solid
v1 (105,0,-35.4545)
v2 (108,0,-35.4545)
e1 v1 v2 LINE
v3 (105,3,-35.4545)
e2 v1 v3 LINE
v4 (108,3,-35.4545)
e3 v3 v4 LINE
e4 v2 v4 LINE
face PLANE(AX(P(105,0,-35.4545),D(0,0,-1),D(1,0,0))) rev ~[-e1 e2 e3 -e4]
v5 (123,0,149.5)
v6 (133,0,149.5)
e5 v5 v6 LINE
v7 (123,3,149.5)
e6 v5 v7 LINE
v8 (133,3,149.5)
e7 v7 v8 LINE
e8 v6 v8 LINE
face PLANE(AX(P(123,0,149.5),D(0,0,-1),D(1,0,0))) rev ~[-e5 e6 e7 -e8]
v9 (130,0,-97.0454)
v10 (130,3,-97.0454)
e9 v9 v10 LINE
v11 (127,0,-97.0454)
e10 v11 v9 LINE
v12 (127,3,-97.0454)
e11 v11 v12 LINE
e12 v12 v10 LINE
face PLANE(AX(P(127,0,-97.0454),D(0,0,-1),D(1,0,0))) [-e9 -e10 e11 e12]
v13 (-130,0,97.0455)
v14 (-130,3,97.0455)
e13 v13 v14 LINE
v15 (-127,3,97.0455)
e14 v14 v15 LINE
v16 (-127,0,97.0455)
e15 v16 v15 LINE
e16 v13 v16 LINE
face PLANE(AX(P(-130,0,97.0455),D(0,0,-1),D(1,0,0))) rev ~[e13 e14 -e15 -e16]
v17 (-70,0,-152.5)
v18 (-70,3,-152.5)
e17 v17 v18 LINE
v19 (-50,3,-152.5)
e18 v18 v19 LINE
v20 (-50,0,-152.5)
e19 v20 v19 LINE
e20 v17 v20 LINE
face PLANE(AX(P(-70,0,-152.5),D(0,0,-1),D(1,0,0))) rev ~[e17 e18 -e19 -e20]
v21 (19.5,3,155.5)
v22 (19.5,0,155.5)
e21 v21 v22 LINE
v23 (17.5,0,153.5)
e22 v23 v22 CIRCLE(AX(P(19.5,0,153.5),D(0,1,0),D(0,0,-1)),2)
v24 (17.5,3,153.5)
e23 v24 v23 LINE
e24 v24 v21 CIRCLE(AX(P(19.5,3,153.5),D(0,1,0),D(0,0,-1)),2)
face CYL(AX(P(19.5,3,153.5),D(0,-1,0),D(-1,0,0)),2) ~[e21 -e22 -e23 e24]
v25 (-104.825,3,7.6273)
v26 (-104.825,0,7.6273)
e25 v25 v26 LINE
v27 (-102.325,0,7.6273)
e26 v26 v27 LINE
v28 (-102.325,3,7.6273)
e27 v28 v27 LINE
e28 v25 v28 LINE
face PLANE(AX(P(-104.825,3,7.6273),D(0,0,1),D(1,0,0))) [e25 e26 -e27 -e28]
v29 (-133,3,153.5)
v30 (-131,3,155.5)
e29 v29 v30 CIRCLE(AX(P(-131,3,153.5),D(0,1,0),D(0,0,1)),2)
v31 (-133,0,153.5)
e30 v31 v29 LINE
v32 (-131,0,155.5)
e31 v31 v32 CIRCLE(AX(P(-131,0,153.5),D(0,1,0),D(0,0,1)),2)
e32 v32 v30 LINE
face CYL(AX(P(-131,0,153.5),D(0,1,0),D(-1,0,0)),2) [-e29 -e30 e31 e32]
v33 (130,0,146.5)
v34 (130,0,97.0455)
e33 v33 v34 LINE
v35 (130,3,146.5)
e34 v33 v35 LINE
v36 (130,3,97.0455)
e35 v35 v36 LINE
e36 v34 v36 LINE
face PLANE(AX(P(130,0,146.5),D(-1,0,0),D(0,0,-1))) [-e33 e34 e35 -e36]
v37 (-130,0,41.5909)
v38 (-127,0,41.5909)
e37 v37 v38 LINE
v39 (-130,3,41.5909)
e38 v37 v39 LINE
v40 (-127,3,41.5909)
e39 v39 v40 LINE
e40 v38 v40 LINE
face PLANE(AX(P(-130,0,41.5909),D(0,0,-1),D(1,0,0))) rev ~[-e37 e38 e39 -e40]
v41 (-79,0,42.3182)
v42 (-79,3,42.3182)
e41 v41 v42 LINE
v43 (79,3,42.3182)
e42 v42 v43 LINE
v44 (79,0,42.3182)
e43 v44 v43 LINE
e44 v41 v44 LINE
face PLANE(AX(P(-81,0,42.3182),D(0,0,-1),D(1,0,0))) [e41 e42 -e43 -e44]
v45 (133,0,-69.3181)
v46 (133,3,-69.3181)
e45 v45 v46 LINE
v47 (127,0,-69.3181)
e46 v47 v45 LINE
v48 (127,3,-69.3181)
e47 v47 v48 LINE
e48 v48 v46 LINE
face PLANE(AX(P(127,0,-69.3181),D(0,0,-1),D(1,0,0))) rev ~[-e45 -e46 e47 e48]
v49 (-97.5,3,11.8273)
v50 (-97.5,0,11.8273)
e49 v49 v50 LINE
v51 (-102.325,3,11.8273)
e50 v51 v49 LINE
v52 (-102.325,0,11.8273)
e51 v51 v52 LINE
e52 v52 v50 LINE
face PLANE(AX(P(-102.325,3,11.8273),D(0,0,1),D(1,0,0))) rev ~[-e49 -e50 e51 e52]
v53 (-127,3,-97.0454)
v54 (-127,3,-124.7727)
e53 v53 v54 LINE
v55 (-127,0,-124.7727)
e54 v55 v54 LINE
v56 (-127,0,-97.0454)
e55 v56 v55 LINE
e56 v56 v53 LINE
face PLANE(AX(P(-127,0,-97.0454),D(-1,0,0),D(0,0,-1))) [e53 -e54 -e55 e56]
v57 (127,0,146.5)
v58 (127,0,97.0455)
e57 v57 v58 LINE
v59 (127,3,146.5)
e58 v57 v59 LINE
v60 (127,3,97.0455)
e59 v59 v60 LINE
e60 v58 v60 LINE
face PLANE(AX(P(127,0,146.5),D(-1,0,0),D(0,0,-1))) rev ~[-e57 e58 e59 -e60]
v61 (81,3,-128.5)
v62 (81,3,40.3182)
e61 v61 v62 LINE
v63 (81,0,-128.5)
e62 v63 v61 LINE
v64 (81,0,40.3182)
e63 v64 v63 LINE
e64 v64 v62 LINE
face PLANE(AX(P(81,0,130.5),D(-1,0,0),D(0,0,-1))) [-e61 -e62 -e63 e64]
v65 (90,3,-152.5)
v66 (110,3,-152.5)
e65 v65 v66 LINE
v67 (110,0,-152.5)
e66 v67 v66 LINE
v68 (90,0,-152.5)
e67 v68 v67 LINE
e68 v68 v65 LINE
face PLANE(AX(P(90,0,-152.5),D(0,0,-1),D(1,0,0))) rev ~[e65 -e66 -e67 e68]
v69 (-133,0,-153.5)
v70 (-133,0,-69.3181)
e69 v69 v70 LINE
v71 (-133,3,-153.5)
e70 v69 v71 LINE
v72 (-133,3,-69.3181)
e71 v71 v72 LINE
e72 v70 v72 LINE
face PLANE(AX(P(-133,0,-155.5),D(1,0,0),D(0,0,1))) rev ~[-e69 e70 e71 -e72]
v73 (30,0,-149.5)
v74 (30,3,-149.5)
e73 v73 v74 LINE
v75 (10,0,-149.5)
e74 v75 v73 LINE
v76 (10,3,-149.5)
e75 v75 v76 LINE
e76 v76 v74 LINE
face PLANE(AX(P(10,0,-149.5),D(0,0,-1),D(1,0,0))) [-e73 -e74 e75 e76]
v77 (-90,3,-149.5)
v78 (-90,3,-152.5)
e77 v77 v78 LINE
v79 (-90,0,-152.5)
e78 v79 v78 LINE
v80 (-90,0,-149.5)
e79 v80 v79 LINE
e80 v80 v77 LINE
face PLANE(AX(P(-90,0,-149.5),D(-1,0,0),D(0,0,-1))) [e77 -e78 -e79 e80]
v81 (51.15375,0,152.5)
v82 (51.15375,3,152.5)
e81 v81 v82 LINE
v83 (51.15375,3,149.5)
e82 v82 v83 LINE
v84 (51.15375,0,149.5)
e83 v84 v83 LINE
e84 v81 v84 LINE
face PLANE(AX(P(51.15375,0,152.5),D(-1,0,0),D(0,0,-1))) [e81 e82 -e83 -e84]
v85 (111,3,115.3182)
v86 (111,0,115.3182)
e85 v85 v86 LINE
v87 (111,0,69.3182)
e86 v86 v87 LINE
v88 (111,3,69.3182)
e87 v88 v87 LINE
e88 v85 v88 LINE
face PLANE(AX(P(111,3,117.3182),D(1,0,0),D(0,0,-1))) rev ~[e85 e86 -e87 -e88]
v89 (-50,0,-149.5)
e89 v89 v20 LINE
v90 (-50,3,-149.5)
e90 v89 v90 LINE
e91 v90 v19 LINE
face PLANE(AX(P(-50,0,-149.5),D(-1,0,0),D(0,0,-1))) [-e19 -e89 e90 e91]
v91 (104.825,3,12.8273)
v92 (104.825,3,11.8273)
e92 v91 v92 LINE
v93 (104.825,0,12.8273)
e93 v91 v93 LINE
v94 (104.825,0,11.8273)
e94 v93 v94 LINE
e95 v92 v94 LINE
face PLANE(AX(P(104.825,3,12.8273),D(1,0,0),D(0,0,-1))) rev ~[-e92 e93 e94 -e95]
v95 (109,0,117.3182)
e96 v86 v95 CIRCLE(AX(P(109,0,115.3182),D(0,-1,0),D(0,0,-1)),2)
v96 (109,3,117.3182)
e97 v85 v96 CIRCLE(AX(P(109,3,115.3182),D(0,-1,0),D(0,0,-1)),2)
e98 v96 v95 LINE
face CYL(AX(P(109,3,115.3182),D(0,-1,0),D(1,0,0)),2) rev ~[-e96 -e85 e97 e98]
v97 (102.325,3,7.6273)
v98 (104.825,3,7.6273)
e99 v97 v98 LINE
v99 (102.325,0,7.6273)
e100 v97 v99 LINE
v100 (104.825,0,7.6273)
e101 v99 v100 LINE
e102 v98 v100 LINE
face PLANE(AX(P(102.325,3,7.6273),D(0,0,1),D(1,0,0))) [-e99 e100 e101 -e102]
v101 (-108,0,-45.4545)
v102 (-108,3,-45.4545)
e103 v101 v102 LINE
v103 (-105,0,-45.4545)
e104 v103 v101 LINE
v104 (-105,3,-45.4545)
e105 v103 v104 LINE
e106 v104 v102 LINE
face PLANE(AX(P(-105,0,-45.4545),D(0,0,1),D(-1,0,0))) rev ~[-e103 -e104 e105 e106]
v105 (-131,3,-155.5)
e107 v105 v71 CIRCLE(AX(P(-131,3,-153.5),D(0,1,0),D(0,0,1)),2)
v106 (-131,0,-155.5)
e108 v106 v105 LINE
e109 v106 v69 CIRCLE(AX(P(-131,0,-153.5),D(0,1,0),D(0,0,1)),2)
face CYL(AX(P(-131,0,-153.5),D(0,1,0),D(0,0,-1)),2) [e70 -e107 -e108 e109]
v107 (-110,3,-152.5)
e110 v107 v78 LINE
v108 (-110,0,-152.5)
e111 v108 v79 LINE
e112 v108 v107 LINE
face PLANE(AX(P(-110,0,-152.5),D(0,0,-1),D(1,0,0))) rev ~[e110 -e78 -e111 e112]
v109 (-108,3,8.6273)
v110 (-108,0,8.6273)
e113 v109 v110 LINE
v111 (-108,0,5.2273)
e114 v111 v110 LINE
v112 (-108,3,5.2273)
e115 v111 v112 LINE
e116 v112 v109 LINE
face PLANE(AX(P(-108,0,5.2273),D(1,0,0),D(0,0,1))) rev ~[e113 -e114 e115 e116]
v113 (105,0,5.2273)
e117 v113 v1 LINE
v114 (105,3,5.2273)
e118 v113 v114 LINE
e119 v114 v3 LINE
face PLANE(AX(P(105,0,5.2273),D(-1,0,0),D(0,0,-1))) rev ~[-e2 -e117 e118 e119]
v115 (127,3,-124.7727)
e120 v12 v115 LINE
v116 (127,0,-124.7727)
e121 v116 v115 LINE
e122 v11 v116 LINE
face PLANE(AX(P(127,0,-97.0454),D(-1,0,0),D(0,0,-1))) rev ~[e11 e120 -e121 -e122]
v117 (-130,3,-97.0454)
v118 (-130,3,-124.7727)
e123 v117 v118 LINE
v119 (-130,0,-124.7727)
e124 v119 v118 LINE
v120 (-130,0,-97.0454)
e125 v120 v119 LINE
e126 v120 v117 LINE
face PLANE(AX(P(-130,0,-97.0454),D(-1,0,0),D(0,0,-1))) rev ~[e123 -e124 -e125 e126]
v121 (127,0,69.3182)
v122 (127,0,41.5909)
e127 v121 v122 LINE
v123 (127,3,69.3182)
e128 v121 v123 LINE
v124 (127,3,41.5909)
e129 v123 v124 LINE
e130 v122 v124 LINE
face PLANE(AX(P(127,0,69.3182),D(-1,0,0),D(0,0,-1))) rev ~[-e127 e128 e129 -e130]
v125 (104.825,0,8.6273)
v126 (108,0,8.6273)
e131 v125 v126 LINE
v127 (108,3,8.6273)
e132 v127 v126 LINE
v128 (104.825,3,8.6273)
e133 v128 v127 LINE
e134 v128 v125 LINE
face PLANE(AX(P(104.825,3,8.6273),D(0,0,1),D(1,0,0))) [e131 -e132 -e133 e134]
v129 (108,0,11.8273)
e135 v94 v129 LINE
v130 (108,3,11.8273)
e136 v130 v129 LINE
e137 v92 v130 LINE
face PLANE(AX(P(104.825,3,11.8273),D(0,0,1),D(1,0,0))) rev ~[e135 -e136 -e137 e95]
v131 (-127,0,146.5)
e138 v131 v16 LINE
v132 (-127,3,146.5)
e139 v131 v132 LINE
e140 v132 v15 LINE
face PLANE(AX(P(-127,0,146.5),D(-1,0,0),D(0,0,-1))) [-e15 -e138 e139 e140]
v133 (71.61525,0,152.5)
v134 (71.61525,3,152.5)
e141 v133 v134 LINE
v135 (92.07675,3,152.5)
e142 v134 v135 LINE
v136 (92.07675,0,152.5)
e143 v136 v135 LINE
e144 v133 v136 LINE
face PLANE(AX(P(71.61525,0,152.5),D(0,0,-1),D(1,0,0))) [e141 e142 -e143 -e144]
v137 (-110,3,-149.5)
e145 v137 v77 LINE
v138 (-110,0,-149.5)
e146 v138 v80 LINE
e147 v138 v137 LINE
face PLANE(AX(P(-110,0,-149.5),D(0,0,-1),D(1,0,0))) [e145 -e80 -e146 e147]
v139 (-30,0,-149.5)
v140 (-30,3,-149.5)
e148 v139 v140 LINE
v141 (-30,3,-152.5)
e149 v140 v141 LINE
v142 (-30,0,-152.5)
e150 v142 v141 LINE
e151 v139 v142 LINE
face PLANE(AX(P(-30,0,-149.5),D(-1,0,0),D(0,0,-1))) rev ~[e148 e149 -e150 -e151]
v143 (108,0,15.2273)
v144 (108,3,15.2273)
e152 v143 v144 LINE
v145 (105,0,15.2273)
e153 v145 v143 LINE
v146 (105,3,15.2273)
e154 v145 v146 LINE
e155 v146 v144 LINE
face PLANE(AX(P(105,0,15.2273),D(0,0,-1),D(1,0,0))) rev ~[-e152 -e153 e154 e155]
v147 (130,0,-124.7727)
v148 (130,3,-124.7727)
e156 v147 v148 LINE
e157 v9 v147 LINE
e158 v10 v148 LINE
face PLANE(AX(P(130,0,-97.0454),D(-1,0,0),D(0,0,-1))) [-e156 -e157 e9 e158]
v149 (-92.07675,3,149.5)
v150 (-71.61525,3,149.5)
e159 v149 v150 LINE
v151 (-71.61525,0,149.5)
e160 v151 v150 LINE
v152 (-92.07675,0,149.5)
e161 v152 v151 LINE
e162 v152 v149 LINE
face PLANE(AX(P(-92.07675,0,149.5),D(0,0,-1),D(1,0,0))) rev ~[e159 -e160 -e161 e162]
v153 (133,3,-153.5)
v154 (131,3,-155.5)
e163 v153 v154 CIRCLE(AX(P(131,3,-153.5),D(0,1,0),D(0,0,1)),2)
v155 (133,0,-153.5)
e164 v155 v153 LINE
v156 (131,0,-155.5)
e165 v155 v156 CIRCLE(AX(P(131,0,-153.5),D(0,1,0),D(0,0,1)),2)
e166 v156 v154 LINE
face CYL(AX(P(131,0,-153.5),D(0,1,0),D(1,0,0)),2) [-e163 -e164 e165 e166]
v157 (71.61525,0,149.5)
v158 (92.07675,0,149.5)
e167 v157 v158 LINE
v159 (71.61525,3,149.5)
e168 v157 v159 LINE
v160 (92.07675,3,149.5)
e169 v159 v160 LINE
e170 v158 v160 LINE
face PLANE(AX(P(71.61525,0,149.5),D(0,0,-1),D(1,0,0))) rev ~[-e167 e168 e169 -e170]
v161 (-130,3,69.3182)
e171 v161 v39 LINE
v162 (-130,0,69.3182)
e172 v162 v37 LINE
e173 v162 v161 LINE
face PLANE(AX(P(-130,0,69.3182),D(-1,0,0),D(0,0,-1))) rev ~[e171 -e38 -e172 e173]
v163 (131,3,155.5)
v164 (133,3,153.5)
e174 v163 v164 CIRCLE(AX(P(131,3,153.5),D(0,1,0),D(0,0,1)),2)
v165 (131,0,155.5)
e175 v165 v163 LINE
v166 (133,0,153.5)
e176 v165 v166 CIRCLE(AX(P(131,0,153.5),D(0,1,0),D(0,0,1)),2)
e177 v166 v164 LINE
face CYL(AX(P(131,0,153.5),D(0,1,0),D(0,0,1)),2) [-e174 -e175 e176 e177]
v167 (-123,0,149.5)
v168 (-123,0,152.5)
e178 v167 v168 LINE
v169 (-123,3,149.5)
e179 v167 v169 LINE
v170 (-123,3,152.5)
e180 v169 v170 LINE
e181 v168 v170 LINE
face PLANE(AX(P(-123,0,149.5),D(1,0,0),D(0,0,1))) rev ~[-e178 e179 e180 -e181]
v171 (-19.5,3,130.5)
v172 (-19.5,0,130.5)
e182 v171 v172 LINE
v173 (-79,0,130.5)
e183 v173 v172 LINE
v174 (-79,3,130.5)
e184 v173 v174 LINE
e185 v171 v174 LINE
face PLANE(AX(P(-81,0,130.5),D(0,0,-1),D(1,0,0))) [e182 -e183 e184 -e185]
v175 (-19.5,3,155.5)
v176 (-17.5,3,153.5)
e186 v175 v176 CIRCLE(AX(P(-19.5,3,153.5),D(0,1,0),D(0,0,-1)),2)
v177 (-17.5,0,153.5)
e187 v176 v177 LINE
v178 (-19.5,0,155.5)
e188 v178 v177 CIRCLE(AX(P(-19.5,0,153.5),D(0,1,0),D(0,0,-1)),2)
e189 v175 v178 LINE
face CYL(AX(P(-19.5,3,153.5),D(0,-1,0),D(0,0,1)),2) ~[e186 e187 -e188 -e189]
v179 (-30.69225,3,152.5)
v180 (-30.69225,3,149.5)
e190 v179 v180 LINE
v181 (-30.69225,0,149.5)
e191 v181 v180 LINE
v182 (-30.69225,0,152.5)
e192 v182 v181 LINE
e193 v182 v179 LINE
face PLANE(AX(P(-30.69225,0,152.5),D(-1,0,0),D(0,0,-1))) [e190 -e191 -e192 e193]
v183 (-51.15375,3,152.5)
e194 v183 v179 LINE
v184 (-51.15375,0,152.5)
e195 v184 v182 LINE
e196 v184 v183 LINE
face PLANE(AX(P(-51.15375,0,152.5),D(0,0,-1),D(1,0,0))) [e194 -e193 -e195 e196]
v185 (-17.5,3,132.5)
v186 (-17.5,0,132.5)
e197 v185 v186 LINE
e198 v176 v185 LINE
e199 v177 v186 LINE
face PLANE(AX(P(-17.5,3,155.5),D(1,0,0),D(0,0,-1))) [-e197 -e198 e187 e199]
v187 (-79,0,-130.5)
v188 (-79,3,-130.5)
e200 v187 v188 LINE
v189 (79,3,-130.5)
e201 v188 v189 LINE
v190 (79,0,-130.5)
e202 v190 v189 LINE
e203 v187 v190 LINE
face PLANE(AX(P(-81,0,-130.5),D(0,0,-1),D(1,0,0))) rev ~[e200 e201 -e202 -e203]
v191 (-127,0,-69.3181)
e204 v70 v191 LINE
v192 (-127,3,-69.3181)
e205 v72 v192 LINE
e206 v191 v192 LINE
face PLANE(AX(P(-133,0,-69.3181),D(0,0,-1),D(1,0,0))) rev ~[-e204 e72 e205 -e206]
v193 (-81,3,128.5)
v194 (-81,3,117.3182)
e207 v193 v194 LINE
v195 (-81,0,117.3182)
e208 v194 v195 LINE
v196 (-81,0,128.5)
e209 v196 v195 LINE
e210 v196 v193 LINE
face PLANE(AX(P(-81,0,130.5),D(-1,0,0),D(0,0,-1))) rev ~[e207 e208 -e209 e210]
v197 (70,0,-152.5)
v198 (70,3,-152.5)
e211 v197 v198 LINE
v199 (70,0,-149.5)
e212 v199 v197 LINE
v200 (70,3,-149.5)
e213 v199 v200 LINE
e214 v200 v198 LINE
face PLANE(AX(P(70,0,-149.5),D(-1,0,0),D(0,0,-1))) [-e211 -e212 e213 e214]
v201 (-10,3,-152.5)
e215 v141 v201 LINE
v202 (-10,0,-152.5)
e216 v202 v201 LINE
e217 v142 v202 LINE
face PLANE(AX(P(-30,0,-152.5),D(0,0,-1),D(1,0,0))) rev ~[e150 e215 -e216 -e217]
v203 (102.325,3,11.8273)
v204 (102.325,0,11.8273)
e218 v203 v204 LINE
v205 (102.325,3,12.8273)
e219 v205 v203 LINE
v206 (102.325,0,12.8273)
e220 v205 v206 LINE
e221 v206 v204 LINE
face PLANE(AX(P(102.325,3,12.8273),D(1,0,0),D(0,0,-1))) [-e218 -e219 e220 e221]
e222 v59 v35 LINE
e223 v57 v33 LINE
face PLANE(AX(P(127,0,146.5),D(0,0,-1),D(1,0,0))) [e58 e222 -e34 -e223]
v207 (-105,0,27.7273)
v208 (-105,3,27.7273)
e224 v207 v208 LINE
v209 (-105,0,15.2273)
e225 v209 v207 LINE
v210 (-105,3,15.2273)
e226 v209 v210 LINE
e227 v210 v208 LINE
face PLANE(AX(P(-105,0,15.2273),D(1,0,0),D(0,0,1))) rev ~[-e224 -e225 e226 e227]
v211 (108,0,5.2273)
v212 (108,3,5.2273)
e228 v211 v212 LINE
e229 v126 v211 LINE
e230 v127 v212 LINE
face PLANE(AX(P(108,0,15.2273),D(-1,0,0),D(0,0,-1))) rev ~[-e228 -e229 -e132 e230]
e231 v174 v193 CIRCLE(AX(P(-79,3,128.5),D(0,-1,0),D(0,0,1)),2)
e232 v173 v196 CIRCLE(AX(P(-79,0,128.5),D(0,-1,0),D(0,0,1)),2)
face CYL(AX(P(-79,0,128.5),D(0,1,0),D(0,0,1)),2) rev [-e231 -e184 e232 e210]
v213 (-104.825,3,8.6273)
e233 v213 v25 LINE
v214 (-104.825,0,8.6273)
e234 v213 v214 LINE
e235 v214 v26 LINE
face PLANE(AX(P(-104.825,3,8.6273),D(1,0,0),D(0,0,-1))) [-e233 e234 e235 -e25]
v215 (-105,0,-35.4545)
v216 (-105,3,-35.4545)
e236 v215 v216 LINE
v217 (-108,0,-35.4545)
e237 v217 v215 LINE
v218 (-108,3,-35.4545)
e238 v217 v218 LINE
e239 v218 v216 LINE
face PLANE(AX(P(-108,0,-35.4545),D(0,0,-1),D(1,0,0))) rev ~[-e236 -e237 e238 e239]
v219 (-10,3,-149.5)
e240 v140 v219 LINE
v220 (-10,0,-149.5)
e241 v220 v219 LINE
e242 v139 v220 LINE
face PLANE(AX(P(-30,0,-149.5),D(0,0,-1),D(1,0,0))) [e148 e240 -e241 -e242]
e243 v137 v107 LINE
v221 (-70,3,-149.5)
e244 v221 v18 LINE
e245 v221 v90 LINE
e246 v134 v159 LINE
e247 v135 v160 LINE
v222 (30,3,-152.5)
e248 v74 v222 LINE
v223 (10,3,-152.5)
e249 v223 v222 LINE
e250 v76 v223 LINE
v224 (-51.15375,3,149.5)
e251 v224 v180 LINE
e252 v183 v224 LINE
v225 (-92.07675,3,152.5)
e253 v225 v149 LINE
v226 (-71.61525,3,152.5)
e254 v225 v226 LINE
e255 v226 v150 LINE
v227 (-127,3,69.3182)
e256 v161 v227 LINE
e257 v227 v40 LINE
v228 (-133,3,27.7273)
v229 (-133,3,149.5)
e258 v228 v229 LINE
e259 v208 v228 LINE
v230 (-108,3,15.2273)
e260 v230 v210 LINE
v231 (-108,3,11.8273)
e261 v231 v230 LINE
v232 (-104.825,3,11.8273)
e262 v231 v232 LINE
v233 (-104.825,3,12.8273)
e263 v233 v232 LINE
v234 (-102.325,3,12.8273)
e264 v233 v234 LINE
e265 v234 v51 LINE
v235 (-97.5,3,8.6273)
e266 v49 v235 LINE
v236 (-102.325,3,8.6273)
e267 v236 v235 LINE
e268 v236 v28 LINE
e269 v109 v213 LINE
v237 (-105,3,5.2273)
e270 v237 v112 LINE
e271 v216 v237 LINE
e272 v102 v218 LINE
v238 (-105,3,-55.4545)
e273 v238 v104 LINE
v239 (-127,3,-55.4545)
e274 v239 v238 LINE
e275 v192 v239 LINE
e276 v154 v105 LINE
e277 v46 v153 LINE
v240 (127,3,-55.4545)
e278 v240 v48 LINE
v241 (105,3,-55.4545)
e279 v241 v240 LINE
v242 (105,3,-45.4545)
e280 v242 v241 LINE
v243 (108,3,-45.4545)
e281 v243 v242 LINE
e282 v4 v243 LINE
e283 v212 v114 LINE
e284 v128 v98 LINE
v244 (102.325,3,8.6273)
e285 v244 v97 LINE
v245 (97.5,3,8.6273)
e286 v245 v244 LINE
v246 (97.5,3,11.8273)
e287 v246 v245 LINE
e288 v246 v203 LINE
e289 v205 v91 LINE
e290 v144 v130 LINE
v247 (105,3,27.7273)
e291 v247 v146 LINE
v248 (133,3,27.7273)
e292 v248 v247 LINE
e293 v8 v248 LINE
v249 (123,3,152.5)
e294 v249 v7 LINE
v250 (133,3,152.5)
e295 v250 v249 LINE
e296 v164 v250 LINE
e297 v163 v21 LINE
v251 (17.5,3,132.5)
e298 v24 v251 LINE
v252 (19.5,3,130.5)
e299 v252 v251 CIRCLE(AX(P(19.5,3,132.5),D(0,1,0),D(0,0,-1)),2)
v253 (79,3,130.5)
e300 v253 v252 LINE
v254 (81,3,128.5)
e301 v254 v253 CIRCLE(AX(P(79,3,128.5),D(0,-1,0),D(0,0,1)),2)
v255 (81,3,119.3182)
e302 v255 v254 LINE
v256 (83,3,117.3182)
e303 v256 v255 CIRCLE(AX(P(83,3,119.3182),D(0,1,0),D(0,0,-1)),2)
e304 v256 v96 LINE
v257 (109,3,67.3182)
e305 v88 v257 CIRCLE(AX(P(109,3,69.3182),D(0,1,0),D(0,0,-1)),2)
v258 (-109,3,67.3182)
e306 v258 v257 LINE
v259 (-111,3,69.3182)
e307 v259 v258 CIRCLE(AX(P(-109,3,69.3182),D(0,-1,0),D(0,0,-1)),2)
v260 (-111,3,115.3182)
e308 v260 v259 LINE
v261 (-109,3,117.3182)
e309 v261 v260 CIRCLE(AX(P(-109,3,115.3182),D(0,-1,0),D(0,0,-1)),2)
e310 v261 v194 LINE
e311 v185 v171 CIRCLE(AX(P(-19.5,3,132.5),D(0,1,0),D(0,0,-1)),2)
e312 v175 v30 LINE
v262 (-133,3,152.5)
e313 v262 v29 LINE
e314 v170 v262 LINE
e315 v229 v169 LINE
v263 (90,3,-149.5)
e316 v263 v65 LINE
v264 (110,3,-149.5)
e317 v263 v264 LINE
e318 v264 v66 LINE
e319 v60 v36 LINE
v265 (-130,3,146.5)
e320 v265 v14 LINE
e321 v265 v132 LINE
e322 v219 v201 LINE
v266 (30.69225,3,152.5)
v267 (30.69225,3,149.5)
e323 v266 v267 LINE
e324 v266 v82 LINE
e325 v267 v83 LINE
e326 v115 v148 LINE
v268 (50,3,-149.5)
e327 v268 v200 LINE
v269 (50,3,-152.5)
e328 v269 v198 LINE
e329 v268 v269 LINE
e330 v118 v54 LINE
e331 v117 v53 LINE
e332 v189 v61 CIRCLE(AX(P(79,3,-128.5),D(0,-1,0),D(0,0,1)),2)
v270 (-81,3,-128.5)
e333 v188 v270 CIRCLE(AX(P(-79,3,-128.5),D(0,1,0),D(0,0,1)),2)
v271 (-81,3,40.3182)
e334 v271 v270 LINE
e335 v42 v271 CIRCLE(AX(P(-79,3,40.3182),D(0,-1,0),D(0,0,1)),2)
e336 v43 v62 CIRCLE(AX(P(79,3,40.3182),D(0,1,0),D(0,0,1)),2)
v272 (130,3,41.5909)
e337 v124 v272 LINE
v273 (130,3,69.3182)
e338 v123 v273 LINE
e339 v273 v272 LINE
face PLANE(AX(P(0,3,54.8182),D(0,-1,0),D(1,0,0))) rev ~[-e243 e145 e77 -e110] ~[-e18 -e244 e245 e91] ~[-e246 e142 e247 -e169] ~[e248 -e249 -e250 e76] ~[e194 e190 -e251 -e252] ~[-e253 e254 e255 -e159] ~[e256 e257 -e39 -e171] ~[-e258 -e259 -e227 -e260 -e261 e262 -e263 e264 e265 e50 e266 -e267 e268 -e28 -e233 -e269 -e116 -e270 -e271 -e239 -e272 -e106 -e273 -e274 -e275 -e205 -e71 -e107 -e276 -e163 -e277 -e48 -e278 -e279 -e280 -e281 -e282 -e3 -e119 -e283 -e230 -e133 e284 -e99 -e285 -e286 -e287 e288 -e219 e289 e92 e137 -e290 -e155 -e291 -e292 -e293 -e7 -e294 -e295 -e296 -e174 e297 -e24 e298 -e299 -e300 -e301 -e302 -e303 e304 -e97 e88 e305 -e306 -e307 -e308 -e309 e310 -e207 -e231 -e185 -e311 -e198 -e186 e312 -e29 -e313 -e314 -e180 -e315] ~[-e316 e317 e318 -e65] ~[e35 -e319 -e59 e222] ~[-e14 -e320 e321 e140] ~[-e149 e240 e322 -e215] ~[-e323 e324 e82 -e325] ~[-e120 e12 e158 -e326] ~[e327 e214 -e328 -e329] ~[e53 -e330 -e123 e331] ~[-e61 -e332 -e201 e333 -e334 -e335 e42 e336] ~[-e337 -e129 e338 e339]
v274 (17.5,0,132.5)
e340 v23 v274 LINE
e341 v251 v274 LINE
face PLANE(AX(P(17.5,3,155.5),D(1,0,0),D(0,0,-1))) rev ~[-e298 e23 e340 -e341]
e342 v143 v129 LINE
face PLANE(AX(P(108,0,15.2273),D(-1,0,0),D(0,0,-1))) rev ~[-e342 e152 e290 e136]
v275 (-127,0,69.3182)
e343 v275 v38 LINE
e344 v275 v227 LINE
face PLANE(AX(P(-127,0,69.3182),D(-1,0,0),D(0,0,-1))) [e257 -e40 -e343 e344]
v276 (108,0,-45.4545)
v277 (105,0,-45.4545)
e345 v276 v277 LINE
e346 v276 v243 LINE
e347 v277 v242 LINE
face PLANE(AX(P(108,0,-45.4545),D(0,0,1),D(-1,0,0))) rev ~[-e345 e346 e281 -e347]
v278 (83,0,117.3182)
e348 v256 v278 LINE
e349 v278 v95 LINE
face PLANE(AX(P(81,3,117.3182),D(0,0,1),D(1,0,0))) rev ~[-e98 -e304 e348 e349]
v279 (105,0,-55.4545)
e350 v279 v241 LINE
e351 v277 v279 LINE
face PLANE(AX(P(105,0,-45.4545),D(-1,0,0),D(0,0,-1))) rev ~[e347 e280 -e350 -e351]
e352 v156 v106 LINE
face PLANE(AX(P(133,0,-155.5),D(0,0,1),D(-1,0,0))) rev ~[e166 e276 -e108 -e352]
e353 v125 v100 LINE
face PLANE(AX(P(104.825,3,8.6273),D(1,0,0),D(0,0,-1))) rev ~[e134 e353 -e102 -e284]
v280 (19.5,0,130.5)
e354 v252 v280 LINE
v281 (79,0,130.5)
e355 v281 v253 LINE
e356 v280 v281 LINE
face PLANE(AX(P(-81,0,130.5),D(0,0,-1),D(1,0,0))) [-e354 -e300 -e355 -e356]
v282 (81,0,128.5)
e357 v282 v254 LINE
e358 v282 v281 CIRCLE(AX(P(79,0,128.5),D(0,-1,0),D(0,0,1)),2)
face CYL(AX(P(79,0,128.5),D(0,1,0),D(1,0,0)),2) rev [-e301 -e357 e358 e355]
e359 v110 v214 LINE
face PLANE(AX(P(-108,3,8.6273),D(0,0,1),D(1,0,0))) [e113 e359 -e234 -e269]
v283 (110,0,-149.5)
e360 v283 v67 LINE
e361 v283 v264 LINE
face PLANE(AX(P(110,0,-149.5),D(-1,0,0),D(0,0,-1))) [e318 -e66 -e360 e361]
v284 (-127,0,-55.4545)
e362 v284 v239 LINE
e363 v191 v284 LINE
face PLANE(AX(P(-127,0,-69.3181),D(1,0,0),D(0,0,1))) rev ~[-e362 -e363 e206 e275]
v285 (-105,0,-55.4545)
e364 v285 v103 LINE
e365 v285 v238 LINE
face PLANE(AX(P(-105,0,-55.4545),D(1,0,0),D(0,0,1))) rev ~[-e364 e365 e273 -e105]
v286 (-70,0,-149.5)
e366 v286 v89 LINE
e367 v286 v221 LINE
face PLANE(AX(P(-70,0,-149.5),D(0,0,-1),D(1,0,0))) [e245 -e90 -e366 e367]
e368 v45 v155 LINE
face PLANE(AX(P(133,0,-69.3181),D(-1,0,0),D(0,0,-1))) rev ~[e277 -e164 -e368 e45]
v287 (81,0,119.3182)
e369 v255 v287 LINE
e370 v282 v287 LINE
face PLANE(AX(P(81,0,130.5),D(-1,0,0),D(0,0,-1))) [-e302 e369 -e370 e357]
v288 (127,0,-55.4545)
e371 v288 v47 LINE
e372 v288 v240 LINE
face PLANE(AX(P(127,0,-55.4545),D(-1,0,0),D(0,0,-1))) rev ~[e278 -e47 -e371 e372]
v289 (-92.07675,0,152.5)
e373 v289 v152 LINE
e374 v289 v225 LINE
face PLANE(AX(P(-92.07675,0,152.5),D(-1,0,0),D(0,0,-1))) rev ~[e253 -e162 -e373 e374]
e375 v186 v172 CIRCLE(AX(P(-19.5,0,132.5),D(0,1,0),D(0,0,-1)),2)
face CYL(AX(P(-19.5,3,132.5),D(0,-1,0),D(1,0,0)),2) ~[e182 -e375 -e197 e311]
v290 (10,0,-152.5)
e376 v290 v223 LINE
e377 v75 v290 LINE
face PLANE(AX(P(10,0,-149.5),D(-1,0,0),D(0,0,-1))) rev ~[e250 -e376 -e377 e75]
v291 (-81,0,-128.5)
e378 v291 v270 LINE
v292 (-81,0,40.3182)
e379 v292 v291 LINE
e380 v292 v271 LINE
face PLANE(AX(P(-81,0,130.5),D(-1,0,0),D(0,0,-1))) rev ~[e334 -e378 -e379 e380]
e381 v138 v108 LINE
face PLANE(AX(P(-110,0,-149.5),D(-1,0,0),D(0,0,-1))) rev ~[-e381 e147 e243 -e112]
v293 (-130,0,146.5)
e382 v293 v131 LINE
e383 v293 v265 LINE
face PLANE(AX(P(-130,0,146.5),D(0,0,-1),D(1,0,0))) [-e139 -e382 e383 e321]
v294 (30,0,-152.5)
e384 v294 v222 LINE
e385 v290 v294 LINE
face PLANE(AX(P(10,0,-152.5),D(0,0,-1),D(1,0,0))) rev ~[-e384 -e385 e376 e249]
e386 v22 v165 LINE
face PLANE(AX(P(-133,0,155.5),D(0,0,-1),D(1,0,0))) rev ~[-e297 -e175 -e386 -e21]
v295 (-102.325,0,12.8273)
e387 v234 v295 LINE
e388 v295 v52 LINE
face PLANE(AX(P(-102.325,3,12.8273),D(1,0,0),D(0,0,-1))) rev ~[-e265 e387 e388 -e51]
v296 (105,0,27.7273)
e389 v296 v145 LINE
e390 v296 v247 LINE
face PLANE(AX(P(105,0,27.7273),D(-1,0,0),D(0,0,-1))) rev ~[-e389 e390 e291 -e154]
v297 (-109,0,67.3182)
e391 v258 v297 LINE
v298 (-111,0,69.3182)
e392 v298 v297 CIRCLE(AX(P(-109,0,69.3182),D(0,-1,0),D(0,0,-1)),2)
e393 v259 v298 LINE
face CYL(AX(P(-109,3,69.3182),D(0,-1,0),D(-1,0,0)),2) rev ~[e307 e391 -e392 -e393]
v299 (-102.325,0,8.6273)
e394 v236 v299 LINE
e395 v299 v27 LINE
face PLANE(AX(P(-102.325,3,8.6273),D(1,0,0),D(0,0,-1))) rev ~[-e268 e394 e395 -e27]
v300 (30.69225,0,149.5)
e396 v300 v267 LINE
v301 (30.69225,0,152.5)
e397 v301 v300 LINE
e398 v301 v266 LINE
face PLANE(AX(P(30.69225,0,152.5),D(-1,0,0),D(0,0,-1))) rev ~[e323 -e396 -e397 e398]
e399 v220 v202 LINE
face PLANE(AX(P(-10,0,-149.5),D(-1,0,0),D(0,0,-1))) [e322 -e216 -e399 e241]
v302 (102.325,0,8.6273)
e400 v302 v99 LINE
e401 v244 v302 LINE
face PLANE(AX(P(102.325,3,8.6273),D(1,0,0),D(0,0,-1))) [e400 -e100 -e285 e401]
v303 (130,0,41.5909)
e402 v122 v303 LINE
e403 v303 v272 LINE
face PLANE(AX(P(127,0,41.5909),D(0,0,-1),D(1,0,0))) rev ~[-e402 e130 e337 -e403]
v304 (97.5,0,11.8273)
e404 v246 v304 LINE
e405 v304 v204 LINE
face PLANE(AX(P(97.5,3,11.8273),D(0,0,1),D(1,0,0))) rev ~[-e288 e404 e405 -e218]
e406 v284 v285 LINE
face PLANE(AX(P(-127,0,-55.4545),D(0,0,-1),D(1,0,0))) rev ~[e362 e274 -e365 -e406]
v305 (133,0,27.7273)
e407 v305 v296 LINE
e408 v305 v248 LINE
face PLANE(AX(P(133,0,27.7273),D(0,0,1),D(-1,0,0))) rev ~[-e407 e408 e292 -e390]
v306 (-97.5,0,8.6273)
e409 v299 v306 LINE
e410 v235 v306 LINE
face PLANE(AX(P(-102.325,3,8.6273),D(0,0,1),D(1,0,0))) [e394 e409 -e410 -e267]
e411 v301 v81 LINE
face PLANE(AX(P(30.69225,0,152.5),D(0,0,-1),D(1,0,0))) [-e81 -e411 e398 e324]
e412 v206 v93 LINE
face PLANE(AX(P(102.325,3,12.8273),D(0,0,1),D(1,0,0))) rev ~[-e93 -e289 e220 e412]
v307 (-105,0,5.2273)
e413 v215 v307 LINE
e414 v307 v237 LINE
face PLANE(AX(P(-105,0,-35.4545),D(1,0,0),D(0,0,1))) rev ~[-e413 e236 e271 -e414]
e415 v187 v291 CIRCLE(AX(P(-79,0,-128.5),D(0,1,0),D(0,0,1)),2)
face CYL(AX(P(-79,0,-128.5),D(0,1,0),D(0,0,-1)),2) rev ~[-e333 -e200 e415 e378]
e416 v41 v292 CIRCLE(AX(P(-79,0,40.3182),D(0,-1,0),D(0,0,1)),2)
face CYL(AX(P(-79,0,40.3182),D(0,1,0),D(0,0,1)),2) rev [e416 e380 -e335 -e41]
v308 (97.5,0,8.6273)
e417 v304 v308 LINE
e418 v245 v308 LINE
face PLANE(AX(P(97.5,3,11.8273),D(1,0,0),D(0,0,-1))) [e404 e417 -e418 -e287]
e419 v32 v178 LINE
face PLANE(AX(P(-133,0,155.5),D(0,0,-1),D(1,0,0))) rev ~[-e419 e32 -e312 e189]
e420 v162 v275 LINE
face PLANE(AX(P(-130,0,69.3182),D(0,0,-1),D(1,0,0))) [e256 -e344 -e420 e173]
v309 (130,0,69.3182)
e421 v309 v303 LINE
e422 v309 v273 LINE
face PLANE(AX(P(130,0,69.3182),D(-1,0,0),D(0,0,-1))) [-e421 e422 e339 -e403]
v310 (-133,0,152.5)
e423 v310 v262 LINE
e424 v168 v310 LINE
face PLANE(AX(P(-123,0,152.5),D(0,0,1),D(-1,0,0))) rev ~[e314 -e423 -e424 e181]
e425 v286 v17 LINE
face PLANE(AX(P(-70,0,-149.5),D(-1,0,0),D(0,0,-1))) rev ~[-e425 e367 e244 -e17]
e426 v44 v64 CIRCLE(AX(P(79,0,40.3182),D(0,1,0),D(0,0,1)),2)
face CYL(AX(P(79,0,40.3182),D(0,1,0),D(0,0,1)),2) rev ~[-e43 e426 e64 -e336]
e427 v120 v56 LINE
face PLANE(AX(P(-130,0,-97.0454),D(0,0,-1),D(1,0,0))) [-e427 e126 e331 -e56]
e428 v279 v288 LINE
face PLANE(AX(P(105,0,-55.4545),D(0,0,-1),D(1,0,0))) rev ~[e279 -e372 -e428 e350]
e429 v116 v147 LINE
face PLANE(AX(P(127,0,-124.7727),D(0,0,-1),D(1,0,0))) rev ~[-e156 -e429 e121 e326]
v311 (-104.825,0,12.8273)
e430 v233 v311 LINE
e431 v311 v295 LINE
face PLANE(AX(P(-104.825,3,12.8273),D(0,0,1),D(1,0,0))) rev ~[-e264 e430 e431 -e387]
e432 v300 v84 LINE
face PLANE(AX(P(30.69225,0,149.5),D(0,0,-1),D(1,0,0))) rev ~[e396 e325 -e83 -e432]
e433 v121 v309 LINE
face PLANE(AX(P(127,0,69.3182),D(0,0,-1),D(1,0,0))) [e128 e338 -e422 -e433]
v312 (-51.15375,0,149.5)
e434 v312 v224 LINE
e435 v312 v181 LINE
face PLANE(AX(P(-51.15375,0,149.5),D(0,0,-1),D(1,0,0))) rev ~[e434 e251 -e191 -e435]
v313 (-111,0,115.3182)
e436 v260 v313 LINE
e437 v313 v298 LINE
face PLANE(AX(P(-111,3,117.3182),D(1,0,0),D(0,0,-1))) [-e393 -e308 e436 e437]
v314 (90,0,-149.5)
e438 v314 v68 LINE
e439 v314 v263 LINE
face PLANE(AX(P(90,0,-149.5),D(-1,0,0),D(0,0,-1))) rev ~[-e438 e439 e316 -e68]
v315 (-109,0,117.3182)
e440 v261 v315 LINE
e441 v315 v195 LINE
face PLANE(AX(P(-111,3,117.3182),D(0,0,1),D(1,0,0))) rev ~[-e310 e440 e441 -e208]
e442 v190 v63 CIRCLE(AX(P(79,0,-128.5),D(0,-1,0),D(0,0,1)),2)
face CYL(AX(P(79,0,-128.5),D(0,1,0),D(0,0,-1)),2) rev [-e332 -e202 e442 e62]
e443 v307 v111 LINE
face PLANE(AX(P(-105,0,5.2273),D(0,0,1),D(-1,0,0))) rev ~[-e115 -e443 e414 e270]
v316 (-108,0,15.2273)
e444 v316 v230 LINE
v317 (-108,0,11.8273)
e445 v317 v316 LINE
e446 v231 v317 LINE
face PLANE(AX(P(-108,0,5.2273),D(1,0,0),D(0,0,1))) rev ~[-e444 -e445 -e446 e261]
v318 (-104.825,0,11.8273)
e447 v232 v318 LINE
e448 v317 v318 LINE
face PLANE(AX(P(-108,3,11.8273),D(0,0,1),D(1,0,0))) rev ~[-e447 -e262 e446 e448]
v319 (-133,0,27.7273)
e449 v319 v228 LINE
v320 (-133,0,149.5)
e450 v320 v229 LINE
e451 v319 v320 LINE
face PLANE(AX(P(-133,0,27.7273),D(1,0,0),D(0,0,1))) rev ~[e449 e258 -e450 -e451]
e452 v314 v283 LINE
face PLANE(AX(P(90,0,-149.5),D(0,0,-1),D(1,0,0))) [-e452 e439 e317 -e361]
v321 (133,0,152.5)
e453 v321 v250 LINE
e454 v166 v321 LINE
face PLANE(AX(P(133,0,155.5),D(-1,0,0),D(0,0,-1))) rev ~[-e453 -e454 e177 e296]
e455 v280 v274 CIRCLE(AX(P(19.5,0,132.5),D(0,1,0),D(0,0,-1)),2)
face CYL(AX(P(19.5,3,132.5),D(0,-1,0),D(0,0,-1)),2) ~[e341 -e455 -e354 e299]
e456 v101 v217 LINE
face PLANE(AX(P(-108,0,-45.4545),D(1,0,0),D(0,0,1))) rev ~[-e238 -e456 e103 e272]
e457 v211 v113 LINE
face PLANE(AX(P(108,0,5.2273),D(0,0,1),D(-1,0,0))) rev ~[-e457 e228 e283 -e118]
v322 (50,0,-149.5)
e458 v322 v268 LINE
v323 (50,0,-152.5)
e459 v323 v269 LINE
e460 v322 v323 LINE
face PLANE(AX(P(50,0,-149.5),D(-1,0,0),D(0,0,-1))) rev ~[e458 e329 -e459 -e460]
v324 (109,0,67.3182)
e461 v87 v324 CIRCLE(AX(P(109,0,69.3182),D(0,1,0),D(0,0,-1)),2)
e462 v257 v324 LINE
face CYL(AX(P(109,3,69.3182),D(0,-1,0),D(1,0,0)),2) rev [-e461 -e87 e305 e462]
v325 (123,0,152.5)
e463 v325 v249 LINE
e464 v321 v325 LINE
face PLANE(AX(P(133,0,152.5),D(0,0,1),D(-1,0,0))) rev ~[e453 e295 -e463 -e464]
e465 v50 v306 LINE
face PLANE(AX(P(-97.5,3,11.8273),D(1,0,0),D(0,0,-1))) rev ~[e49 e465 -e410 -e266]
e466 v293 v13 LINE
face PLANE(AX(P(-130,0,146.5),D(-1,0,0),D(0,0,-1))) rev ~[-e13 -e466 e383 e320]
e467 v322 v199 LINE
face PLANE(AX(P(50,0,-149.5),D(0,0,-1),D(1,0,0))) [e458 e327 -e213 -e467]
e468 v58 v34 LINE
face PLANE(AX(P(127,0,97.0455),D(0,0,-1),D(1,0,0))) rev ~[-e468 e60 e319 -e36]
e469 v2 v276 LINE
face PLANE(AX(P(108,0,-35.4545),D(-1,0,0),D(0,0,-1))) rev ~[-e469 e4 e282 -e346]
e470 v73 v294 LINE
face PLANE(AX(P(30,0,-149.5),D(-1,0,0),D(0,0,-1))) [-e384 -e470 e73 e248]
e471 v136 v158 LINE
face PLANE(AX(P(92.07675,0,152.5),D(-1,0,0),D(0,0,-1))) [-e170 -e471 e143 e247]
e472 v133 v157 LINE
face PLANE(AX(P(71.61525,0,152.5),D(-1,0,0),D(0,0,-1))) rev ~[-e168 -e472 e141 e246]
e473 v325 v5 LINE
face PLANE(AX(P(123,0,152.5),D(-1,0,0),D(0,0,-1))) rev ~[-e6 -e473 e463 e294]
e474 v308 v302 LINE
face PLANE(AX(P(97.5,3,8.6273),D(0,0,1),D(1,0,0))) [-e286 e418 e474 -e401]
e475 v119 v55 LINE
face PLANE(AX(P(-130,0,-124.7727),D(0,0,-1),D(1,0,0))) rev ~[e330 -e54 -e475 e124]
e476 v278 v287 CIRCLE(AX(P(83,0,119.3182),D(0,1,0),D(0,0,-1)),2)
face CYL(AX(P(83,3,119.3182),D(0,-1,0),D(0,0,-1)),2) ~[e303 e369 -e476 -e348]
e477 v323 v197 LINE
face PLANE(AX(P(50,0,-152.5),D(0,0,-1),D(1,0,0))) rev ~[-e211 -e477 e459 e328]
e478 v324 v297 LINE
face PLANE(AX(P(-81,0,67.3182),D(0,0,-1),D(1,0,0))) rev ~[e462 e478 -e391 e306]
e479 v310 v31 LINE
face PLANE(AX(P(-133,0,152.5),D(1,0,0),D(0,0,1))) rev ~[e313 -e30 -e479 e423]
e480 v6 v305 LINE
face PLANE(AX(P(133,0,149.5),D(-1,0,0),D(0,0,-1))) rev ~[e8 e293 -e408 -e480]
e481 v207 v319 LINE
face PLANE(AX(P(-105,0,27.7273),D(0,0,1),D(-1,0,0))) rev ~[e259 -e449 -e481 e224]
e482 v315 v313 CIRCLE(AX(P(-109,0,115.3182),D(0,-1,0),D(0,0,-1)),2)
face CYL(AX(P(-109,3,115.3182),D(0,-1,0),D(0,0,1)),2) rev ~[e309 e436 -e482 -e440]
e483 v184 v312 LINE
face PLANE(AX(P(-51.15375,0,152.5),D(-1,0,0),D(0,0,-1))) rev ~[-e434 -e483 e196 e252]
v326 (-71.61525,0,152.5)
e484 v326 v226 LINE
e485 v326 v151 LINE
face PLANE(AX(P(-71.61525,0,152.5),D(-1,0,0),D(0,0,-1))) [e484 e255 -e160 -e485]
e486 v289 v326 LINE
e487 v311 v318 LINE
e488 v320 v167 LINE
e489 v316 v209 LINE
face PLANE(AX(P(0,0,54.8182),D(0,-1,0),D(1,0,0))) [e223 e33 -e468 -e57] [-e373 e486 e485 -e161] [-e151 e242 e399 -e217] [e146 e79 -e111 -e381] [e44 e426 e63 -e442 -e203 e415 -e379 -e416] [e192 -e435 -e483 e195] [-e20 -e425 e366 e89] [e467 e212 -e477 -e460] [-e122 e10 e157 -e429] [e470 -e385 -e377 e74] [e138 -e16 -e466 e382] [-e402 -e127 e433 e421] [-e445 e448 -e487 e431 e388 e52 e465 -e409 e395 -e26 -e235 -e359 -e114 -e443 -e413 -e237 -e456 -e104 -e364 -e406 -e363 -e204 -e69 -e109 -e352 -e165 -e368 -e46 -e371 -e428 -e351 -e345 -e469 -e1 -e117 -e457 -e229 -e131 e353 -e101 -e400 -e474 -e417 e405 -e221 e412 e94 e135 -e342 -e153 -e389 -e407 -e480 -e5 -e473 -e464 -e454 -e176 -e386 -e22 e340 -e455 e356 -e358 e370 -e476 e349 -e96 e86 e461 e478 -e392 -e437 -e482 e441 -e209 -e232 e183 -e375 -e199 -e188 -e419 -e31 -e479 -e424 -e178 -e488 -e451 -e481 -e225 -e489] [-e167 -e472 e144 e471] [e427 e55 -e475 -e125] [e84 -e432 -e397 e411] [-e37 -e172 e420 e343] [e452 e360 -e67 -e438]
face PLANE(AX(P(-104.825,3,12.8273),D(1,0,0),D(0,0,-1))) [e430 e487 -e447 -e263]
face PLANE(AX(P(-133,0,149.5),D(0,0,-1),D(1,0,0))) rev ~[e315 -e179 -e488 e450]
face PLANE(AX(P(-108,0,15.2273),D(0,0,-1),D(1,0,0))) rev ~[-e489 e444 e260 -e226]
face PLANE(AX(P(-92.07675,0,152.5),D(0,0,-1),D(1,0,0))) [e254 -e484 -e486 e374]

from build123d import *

# Parameters (mm, degrees)
SKETCH1_W               = 3
SKETCH1_H               = 49.4545
SKETCH1_W_2             = 20.4615
SKETCH1_H_2             = 3
SKETCH1_H_3             = 27.7273
SKETCH1_W_3             = 162
SKETCH1_H_4             = 261
SKETCH1_W_4             = 20
BOSS_EXTRUDE1_DEPTH     = 3
SKETCH2_W               = 10.5
SKETCH2_H               = 3.2
SKETCH2_W_2             = 2.5
SKETCH2_H_2             = 5.2
CUT_EXTRUDE1_DEPTH      = 10
SKETCH3_W               = 35
SKETCH3_H               = 25
SKETCH3_W_2             = 30
SKETCH3_H_2             = 50
CUT_EXTRUDE2_DEPTH      = 1
CUT_EXTRUDE2_DEPTH_BACK = 4
SKETCH4_W               = 162
SKETCH4_H               = 25
BOSS_EXTRUDE2_DEPTH     = 3
FILLET1_R               = 2


with BuildPart() as part:
    # Sketch1 → Boss-Extrude1 (new body)
    with BuildSketch(Plane(origin=(0, 0, 0), x_dir=(1, 0, 0), z_dir=(0, 1, 0))):
        Polygon((-133, -152.5), (-133, -155.5), (133, -155.5), (133, -152.5), (123, -152.5), (123, -149.5), (133, -149.5), (133, -27.7273), (105, -27.7273), (105, -15.2273), (108, -15.2273), (108, -5.2273), (105, -5.2273), (105, 35.4545), (108, 35.4545), (108, 45.4545), (105, 45.4545), (105, 55.4545), (127, 55.4545), (127, 69.3181), (133, 69.3181), (133, 155.5), (-133, 155.5), (-133, 69.3181), (-127, 69.3181), (-127, 55.4545), (-105, 55.4545), (-105, 45.4545), (-108, 45.4545), (-108, 35.4545), (-105, 35.4545), (-105, -5.2273), (-108, -5.2273), (-108, -15.2273), (-105, -15.2273), (-105, -27.7273), (-133, -27.7273), (-133, -149.5), (-123, -149.5), (-123, -152.5), align=None)
        with Locations((-128.5, -121.77275)):
            Rectangle(SKETCH1_W, SKETCH1_H, mode=Mode.SUBTRACT)
        with Locations((-81.846, -151)):
            Rectangle(SKETCH1_W_2, SKETCH1_H_2, mode=Mode.SUBTRACT)
        with Locations((-40.923, -151)):
            Rectangle(SKETCH1_W_2, SKETCH1_H_2, mode=Mode.SUBTRACT)
        with Locations((0, -151)):
            Rectangle(SKETCH1_W_2, SKETCH1_H_2, mode=Mode.SUBTRACT)
        with Locations((-128.5, -55.45455)):
            Rectangle(SKETCH1_W, SKETCH1_H_3, mode=Mode.SUBTRACT)
        with Locations((40.923, -151)):
            Rectangle(SKETCH1_W_2, SKETCH1_H_2, mode=Mode.SUBTRACT)
        with Locations((81.846, -151)):
            Rectangle(SKETCH1_W_2, SKETCH1_H_2, mode=Mode.SUBTRACT)
        with Locations((128.5, -121.77275)):
            Rectangle(SKETCH1_W, SKETCH1_H, mode=Mode.SUBTRACT)
        with Locations((128.5, -55.45455)):
            Rectangle(SKETCH1_W, SKETCH1_H_3, mode=Mode.SUBTRACT)
        Rectangle(SKETCH1_W_3, SKETCH1_H_4, mode=Mode.SUBTRACT)
        with Locations((-128.5, 110.90905)):
            Rectangle(SKETCH1_W, SKETCH1_H_3, mode=Mode.SUBTRACT)
        with Locations((-100, 151)):
            Rectangle(SKETCH1_W_4, SKETCH1_H_2, mode=Mode.SUBTRACT)
        with Locations((-60, 151)):
            Rectangle(SKETCH1_W_4, SKETCH1_H_2, mode=Mode.SUBTRACT)
        with Locations((-20, 151)):
            Rectangle(SKETCH1_W_4, SKETCH1_H_2, mode=Mode.SUBTRACT)
        with Locations((20, 151)):
            Rectangle(SKETCH1_W_4, SKETCH1_H_2, mode=Mode.SUBTRACT)
        with Locations((60, 151)):
            Rectangle(SKETCH1_W_4, SKETCH1_H_2, mode=Mode.SUBTRACT)
        with Locations((128.5, 110.90905)):
            Rectangle(SKETCH1_W, SKETCH1_H_3, mode=Mode.SUBTRACT)
        with Locations((100, 151)):
            Rectangle(SKETCH1_W_4, SKETCH1_H_2, mode=Mode.SUBTRACT)
    extrude(amount=BOSS_EXTRUDE1_DEPTH)

    # Sketch2 → Cut-Extrude1 (cut)
    with BuildSketch(Plane(origin=(0, 3, 0), x_dir=(1, 0, 0), z_dir=(0, 1, 0))):
        with Locations((-102.75, -10.2273)):
            Rectangle(SKETCH2_W, SKETCH2_H)
        with Locations((102.75, -10.2273)):
            Rectangle(SKETCH2_W, SKETCH2_H)
        with Locations((103.575, -10.2273)):
            Rectangle(SKETCH2_W_2, SKETCH2_H_2)
        with Locations((-103.575, -10.2273)):
            Rectangle(SKETCH2_W_2, SKETCH2_H_2)
    extrude(amount=-CUT_EXTRUDE1_DEPTH, mode=Mode.SUBTRACT)

    # Sketch3 → Cut-Extrude2 (cut, two sides)
    with BuildSketch(Plane(origin=(0, 3, 0), x_dir=(1, 0, 0), z_dir=(0, 1, 0))) as cut_extrude2_sk:
        with Locations((0, -143)):
            Rectangle(SKETCH3_W, SKETCH3_H)
        with Locations((-96, -92.3182)):
            Rectangle(SKETCH3_W_2, SKETCH3_H_2)
        with Locations((96, -92.3182)):
            Rectangle(SKETCH3_W_2, SKETCH3_H_2)
    extrude(amount=CUT_EXTRUDE2_DEPTH, mode=Mode.SUBTRACT)
    extrude(cut_extrude2_sk.sketch, amount=-CUT_EXTRUDE2_DEPTH_BACK, mode=Mode.SUBTRACT)

    # Sketch4 → Boss-Extrude2 (add)
    with BuildSketch(Plane.XZ):
        with Locations((0, 54.8182)):
            Rectangle(SKETCH4_W, SKETCH4_H)
    extrude(amount=-BOSS_EXTRUDE2_DEPTH)

    # Fillet1
    fillet1_edges = [part.edges().sort_by_distance(p)[0] for p in [
        (-133, 1.5, -155.5),
        (133, 1.5, -155.5),
        (133, 1.5, 155.5),
        (-133, 1.5, 155.5),
        (81, 1.5, -130.5),
        (-81, 1.5, -130.5),
        (-81, 1.5, 130.5),
        (81, 1.5, 130.5),
        (17.5, 1.5, 130.5),
        (17.5, 1.5, 155.5),
        (-17.5, 1.5, 155.5),
        (-17.5, 1.5, 130.5),
        (-111, 1.5, 117.3182),
        (-111, 1.5, 67.3182),
        (81, 1.5, 117.3182),
        (111, 1.5, 67.3182),
        (111, 1.5, 117.3182),
        (-81, 1.5, 42.3182),
        (81, 1.5, 42.3182),
    ]]
    fillet(fillet1_edges, radius=FILLET1_R)


solid = part.part
